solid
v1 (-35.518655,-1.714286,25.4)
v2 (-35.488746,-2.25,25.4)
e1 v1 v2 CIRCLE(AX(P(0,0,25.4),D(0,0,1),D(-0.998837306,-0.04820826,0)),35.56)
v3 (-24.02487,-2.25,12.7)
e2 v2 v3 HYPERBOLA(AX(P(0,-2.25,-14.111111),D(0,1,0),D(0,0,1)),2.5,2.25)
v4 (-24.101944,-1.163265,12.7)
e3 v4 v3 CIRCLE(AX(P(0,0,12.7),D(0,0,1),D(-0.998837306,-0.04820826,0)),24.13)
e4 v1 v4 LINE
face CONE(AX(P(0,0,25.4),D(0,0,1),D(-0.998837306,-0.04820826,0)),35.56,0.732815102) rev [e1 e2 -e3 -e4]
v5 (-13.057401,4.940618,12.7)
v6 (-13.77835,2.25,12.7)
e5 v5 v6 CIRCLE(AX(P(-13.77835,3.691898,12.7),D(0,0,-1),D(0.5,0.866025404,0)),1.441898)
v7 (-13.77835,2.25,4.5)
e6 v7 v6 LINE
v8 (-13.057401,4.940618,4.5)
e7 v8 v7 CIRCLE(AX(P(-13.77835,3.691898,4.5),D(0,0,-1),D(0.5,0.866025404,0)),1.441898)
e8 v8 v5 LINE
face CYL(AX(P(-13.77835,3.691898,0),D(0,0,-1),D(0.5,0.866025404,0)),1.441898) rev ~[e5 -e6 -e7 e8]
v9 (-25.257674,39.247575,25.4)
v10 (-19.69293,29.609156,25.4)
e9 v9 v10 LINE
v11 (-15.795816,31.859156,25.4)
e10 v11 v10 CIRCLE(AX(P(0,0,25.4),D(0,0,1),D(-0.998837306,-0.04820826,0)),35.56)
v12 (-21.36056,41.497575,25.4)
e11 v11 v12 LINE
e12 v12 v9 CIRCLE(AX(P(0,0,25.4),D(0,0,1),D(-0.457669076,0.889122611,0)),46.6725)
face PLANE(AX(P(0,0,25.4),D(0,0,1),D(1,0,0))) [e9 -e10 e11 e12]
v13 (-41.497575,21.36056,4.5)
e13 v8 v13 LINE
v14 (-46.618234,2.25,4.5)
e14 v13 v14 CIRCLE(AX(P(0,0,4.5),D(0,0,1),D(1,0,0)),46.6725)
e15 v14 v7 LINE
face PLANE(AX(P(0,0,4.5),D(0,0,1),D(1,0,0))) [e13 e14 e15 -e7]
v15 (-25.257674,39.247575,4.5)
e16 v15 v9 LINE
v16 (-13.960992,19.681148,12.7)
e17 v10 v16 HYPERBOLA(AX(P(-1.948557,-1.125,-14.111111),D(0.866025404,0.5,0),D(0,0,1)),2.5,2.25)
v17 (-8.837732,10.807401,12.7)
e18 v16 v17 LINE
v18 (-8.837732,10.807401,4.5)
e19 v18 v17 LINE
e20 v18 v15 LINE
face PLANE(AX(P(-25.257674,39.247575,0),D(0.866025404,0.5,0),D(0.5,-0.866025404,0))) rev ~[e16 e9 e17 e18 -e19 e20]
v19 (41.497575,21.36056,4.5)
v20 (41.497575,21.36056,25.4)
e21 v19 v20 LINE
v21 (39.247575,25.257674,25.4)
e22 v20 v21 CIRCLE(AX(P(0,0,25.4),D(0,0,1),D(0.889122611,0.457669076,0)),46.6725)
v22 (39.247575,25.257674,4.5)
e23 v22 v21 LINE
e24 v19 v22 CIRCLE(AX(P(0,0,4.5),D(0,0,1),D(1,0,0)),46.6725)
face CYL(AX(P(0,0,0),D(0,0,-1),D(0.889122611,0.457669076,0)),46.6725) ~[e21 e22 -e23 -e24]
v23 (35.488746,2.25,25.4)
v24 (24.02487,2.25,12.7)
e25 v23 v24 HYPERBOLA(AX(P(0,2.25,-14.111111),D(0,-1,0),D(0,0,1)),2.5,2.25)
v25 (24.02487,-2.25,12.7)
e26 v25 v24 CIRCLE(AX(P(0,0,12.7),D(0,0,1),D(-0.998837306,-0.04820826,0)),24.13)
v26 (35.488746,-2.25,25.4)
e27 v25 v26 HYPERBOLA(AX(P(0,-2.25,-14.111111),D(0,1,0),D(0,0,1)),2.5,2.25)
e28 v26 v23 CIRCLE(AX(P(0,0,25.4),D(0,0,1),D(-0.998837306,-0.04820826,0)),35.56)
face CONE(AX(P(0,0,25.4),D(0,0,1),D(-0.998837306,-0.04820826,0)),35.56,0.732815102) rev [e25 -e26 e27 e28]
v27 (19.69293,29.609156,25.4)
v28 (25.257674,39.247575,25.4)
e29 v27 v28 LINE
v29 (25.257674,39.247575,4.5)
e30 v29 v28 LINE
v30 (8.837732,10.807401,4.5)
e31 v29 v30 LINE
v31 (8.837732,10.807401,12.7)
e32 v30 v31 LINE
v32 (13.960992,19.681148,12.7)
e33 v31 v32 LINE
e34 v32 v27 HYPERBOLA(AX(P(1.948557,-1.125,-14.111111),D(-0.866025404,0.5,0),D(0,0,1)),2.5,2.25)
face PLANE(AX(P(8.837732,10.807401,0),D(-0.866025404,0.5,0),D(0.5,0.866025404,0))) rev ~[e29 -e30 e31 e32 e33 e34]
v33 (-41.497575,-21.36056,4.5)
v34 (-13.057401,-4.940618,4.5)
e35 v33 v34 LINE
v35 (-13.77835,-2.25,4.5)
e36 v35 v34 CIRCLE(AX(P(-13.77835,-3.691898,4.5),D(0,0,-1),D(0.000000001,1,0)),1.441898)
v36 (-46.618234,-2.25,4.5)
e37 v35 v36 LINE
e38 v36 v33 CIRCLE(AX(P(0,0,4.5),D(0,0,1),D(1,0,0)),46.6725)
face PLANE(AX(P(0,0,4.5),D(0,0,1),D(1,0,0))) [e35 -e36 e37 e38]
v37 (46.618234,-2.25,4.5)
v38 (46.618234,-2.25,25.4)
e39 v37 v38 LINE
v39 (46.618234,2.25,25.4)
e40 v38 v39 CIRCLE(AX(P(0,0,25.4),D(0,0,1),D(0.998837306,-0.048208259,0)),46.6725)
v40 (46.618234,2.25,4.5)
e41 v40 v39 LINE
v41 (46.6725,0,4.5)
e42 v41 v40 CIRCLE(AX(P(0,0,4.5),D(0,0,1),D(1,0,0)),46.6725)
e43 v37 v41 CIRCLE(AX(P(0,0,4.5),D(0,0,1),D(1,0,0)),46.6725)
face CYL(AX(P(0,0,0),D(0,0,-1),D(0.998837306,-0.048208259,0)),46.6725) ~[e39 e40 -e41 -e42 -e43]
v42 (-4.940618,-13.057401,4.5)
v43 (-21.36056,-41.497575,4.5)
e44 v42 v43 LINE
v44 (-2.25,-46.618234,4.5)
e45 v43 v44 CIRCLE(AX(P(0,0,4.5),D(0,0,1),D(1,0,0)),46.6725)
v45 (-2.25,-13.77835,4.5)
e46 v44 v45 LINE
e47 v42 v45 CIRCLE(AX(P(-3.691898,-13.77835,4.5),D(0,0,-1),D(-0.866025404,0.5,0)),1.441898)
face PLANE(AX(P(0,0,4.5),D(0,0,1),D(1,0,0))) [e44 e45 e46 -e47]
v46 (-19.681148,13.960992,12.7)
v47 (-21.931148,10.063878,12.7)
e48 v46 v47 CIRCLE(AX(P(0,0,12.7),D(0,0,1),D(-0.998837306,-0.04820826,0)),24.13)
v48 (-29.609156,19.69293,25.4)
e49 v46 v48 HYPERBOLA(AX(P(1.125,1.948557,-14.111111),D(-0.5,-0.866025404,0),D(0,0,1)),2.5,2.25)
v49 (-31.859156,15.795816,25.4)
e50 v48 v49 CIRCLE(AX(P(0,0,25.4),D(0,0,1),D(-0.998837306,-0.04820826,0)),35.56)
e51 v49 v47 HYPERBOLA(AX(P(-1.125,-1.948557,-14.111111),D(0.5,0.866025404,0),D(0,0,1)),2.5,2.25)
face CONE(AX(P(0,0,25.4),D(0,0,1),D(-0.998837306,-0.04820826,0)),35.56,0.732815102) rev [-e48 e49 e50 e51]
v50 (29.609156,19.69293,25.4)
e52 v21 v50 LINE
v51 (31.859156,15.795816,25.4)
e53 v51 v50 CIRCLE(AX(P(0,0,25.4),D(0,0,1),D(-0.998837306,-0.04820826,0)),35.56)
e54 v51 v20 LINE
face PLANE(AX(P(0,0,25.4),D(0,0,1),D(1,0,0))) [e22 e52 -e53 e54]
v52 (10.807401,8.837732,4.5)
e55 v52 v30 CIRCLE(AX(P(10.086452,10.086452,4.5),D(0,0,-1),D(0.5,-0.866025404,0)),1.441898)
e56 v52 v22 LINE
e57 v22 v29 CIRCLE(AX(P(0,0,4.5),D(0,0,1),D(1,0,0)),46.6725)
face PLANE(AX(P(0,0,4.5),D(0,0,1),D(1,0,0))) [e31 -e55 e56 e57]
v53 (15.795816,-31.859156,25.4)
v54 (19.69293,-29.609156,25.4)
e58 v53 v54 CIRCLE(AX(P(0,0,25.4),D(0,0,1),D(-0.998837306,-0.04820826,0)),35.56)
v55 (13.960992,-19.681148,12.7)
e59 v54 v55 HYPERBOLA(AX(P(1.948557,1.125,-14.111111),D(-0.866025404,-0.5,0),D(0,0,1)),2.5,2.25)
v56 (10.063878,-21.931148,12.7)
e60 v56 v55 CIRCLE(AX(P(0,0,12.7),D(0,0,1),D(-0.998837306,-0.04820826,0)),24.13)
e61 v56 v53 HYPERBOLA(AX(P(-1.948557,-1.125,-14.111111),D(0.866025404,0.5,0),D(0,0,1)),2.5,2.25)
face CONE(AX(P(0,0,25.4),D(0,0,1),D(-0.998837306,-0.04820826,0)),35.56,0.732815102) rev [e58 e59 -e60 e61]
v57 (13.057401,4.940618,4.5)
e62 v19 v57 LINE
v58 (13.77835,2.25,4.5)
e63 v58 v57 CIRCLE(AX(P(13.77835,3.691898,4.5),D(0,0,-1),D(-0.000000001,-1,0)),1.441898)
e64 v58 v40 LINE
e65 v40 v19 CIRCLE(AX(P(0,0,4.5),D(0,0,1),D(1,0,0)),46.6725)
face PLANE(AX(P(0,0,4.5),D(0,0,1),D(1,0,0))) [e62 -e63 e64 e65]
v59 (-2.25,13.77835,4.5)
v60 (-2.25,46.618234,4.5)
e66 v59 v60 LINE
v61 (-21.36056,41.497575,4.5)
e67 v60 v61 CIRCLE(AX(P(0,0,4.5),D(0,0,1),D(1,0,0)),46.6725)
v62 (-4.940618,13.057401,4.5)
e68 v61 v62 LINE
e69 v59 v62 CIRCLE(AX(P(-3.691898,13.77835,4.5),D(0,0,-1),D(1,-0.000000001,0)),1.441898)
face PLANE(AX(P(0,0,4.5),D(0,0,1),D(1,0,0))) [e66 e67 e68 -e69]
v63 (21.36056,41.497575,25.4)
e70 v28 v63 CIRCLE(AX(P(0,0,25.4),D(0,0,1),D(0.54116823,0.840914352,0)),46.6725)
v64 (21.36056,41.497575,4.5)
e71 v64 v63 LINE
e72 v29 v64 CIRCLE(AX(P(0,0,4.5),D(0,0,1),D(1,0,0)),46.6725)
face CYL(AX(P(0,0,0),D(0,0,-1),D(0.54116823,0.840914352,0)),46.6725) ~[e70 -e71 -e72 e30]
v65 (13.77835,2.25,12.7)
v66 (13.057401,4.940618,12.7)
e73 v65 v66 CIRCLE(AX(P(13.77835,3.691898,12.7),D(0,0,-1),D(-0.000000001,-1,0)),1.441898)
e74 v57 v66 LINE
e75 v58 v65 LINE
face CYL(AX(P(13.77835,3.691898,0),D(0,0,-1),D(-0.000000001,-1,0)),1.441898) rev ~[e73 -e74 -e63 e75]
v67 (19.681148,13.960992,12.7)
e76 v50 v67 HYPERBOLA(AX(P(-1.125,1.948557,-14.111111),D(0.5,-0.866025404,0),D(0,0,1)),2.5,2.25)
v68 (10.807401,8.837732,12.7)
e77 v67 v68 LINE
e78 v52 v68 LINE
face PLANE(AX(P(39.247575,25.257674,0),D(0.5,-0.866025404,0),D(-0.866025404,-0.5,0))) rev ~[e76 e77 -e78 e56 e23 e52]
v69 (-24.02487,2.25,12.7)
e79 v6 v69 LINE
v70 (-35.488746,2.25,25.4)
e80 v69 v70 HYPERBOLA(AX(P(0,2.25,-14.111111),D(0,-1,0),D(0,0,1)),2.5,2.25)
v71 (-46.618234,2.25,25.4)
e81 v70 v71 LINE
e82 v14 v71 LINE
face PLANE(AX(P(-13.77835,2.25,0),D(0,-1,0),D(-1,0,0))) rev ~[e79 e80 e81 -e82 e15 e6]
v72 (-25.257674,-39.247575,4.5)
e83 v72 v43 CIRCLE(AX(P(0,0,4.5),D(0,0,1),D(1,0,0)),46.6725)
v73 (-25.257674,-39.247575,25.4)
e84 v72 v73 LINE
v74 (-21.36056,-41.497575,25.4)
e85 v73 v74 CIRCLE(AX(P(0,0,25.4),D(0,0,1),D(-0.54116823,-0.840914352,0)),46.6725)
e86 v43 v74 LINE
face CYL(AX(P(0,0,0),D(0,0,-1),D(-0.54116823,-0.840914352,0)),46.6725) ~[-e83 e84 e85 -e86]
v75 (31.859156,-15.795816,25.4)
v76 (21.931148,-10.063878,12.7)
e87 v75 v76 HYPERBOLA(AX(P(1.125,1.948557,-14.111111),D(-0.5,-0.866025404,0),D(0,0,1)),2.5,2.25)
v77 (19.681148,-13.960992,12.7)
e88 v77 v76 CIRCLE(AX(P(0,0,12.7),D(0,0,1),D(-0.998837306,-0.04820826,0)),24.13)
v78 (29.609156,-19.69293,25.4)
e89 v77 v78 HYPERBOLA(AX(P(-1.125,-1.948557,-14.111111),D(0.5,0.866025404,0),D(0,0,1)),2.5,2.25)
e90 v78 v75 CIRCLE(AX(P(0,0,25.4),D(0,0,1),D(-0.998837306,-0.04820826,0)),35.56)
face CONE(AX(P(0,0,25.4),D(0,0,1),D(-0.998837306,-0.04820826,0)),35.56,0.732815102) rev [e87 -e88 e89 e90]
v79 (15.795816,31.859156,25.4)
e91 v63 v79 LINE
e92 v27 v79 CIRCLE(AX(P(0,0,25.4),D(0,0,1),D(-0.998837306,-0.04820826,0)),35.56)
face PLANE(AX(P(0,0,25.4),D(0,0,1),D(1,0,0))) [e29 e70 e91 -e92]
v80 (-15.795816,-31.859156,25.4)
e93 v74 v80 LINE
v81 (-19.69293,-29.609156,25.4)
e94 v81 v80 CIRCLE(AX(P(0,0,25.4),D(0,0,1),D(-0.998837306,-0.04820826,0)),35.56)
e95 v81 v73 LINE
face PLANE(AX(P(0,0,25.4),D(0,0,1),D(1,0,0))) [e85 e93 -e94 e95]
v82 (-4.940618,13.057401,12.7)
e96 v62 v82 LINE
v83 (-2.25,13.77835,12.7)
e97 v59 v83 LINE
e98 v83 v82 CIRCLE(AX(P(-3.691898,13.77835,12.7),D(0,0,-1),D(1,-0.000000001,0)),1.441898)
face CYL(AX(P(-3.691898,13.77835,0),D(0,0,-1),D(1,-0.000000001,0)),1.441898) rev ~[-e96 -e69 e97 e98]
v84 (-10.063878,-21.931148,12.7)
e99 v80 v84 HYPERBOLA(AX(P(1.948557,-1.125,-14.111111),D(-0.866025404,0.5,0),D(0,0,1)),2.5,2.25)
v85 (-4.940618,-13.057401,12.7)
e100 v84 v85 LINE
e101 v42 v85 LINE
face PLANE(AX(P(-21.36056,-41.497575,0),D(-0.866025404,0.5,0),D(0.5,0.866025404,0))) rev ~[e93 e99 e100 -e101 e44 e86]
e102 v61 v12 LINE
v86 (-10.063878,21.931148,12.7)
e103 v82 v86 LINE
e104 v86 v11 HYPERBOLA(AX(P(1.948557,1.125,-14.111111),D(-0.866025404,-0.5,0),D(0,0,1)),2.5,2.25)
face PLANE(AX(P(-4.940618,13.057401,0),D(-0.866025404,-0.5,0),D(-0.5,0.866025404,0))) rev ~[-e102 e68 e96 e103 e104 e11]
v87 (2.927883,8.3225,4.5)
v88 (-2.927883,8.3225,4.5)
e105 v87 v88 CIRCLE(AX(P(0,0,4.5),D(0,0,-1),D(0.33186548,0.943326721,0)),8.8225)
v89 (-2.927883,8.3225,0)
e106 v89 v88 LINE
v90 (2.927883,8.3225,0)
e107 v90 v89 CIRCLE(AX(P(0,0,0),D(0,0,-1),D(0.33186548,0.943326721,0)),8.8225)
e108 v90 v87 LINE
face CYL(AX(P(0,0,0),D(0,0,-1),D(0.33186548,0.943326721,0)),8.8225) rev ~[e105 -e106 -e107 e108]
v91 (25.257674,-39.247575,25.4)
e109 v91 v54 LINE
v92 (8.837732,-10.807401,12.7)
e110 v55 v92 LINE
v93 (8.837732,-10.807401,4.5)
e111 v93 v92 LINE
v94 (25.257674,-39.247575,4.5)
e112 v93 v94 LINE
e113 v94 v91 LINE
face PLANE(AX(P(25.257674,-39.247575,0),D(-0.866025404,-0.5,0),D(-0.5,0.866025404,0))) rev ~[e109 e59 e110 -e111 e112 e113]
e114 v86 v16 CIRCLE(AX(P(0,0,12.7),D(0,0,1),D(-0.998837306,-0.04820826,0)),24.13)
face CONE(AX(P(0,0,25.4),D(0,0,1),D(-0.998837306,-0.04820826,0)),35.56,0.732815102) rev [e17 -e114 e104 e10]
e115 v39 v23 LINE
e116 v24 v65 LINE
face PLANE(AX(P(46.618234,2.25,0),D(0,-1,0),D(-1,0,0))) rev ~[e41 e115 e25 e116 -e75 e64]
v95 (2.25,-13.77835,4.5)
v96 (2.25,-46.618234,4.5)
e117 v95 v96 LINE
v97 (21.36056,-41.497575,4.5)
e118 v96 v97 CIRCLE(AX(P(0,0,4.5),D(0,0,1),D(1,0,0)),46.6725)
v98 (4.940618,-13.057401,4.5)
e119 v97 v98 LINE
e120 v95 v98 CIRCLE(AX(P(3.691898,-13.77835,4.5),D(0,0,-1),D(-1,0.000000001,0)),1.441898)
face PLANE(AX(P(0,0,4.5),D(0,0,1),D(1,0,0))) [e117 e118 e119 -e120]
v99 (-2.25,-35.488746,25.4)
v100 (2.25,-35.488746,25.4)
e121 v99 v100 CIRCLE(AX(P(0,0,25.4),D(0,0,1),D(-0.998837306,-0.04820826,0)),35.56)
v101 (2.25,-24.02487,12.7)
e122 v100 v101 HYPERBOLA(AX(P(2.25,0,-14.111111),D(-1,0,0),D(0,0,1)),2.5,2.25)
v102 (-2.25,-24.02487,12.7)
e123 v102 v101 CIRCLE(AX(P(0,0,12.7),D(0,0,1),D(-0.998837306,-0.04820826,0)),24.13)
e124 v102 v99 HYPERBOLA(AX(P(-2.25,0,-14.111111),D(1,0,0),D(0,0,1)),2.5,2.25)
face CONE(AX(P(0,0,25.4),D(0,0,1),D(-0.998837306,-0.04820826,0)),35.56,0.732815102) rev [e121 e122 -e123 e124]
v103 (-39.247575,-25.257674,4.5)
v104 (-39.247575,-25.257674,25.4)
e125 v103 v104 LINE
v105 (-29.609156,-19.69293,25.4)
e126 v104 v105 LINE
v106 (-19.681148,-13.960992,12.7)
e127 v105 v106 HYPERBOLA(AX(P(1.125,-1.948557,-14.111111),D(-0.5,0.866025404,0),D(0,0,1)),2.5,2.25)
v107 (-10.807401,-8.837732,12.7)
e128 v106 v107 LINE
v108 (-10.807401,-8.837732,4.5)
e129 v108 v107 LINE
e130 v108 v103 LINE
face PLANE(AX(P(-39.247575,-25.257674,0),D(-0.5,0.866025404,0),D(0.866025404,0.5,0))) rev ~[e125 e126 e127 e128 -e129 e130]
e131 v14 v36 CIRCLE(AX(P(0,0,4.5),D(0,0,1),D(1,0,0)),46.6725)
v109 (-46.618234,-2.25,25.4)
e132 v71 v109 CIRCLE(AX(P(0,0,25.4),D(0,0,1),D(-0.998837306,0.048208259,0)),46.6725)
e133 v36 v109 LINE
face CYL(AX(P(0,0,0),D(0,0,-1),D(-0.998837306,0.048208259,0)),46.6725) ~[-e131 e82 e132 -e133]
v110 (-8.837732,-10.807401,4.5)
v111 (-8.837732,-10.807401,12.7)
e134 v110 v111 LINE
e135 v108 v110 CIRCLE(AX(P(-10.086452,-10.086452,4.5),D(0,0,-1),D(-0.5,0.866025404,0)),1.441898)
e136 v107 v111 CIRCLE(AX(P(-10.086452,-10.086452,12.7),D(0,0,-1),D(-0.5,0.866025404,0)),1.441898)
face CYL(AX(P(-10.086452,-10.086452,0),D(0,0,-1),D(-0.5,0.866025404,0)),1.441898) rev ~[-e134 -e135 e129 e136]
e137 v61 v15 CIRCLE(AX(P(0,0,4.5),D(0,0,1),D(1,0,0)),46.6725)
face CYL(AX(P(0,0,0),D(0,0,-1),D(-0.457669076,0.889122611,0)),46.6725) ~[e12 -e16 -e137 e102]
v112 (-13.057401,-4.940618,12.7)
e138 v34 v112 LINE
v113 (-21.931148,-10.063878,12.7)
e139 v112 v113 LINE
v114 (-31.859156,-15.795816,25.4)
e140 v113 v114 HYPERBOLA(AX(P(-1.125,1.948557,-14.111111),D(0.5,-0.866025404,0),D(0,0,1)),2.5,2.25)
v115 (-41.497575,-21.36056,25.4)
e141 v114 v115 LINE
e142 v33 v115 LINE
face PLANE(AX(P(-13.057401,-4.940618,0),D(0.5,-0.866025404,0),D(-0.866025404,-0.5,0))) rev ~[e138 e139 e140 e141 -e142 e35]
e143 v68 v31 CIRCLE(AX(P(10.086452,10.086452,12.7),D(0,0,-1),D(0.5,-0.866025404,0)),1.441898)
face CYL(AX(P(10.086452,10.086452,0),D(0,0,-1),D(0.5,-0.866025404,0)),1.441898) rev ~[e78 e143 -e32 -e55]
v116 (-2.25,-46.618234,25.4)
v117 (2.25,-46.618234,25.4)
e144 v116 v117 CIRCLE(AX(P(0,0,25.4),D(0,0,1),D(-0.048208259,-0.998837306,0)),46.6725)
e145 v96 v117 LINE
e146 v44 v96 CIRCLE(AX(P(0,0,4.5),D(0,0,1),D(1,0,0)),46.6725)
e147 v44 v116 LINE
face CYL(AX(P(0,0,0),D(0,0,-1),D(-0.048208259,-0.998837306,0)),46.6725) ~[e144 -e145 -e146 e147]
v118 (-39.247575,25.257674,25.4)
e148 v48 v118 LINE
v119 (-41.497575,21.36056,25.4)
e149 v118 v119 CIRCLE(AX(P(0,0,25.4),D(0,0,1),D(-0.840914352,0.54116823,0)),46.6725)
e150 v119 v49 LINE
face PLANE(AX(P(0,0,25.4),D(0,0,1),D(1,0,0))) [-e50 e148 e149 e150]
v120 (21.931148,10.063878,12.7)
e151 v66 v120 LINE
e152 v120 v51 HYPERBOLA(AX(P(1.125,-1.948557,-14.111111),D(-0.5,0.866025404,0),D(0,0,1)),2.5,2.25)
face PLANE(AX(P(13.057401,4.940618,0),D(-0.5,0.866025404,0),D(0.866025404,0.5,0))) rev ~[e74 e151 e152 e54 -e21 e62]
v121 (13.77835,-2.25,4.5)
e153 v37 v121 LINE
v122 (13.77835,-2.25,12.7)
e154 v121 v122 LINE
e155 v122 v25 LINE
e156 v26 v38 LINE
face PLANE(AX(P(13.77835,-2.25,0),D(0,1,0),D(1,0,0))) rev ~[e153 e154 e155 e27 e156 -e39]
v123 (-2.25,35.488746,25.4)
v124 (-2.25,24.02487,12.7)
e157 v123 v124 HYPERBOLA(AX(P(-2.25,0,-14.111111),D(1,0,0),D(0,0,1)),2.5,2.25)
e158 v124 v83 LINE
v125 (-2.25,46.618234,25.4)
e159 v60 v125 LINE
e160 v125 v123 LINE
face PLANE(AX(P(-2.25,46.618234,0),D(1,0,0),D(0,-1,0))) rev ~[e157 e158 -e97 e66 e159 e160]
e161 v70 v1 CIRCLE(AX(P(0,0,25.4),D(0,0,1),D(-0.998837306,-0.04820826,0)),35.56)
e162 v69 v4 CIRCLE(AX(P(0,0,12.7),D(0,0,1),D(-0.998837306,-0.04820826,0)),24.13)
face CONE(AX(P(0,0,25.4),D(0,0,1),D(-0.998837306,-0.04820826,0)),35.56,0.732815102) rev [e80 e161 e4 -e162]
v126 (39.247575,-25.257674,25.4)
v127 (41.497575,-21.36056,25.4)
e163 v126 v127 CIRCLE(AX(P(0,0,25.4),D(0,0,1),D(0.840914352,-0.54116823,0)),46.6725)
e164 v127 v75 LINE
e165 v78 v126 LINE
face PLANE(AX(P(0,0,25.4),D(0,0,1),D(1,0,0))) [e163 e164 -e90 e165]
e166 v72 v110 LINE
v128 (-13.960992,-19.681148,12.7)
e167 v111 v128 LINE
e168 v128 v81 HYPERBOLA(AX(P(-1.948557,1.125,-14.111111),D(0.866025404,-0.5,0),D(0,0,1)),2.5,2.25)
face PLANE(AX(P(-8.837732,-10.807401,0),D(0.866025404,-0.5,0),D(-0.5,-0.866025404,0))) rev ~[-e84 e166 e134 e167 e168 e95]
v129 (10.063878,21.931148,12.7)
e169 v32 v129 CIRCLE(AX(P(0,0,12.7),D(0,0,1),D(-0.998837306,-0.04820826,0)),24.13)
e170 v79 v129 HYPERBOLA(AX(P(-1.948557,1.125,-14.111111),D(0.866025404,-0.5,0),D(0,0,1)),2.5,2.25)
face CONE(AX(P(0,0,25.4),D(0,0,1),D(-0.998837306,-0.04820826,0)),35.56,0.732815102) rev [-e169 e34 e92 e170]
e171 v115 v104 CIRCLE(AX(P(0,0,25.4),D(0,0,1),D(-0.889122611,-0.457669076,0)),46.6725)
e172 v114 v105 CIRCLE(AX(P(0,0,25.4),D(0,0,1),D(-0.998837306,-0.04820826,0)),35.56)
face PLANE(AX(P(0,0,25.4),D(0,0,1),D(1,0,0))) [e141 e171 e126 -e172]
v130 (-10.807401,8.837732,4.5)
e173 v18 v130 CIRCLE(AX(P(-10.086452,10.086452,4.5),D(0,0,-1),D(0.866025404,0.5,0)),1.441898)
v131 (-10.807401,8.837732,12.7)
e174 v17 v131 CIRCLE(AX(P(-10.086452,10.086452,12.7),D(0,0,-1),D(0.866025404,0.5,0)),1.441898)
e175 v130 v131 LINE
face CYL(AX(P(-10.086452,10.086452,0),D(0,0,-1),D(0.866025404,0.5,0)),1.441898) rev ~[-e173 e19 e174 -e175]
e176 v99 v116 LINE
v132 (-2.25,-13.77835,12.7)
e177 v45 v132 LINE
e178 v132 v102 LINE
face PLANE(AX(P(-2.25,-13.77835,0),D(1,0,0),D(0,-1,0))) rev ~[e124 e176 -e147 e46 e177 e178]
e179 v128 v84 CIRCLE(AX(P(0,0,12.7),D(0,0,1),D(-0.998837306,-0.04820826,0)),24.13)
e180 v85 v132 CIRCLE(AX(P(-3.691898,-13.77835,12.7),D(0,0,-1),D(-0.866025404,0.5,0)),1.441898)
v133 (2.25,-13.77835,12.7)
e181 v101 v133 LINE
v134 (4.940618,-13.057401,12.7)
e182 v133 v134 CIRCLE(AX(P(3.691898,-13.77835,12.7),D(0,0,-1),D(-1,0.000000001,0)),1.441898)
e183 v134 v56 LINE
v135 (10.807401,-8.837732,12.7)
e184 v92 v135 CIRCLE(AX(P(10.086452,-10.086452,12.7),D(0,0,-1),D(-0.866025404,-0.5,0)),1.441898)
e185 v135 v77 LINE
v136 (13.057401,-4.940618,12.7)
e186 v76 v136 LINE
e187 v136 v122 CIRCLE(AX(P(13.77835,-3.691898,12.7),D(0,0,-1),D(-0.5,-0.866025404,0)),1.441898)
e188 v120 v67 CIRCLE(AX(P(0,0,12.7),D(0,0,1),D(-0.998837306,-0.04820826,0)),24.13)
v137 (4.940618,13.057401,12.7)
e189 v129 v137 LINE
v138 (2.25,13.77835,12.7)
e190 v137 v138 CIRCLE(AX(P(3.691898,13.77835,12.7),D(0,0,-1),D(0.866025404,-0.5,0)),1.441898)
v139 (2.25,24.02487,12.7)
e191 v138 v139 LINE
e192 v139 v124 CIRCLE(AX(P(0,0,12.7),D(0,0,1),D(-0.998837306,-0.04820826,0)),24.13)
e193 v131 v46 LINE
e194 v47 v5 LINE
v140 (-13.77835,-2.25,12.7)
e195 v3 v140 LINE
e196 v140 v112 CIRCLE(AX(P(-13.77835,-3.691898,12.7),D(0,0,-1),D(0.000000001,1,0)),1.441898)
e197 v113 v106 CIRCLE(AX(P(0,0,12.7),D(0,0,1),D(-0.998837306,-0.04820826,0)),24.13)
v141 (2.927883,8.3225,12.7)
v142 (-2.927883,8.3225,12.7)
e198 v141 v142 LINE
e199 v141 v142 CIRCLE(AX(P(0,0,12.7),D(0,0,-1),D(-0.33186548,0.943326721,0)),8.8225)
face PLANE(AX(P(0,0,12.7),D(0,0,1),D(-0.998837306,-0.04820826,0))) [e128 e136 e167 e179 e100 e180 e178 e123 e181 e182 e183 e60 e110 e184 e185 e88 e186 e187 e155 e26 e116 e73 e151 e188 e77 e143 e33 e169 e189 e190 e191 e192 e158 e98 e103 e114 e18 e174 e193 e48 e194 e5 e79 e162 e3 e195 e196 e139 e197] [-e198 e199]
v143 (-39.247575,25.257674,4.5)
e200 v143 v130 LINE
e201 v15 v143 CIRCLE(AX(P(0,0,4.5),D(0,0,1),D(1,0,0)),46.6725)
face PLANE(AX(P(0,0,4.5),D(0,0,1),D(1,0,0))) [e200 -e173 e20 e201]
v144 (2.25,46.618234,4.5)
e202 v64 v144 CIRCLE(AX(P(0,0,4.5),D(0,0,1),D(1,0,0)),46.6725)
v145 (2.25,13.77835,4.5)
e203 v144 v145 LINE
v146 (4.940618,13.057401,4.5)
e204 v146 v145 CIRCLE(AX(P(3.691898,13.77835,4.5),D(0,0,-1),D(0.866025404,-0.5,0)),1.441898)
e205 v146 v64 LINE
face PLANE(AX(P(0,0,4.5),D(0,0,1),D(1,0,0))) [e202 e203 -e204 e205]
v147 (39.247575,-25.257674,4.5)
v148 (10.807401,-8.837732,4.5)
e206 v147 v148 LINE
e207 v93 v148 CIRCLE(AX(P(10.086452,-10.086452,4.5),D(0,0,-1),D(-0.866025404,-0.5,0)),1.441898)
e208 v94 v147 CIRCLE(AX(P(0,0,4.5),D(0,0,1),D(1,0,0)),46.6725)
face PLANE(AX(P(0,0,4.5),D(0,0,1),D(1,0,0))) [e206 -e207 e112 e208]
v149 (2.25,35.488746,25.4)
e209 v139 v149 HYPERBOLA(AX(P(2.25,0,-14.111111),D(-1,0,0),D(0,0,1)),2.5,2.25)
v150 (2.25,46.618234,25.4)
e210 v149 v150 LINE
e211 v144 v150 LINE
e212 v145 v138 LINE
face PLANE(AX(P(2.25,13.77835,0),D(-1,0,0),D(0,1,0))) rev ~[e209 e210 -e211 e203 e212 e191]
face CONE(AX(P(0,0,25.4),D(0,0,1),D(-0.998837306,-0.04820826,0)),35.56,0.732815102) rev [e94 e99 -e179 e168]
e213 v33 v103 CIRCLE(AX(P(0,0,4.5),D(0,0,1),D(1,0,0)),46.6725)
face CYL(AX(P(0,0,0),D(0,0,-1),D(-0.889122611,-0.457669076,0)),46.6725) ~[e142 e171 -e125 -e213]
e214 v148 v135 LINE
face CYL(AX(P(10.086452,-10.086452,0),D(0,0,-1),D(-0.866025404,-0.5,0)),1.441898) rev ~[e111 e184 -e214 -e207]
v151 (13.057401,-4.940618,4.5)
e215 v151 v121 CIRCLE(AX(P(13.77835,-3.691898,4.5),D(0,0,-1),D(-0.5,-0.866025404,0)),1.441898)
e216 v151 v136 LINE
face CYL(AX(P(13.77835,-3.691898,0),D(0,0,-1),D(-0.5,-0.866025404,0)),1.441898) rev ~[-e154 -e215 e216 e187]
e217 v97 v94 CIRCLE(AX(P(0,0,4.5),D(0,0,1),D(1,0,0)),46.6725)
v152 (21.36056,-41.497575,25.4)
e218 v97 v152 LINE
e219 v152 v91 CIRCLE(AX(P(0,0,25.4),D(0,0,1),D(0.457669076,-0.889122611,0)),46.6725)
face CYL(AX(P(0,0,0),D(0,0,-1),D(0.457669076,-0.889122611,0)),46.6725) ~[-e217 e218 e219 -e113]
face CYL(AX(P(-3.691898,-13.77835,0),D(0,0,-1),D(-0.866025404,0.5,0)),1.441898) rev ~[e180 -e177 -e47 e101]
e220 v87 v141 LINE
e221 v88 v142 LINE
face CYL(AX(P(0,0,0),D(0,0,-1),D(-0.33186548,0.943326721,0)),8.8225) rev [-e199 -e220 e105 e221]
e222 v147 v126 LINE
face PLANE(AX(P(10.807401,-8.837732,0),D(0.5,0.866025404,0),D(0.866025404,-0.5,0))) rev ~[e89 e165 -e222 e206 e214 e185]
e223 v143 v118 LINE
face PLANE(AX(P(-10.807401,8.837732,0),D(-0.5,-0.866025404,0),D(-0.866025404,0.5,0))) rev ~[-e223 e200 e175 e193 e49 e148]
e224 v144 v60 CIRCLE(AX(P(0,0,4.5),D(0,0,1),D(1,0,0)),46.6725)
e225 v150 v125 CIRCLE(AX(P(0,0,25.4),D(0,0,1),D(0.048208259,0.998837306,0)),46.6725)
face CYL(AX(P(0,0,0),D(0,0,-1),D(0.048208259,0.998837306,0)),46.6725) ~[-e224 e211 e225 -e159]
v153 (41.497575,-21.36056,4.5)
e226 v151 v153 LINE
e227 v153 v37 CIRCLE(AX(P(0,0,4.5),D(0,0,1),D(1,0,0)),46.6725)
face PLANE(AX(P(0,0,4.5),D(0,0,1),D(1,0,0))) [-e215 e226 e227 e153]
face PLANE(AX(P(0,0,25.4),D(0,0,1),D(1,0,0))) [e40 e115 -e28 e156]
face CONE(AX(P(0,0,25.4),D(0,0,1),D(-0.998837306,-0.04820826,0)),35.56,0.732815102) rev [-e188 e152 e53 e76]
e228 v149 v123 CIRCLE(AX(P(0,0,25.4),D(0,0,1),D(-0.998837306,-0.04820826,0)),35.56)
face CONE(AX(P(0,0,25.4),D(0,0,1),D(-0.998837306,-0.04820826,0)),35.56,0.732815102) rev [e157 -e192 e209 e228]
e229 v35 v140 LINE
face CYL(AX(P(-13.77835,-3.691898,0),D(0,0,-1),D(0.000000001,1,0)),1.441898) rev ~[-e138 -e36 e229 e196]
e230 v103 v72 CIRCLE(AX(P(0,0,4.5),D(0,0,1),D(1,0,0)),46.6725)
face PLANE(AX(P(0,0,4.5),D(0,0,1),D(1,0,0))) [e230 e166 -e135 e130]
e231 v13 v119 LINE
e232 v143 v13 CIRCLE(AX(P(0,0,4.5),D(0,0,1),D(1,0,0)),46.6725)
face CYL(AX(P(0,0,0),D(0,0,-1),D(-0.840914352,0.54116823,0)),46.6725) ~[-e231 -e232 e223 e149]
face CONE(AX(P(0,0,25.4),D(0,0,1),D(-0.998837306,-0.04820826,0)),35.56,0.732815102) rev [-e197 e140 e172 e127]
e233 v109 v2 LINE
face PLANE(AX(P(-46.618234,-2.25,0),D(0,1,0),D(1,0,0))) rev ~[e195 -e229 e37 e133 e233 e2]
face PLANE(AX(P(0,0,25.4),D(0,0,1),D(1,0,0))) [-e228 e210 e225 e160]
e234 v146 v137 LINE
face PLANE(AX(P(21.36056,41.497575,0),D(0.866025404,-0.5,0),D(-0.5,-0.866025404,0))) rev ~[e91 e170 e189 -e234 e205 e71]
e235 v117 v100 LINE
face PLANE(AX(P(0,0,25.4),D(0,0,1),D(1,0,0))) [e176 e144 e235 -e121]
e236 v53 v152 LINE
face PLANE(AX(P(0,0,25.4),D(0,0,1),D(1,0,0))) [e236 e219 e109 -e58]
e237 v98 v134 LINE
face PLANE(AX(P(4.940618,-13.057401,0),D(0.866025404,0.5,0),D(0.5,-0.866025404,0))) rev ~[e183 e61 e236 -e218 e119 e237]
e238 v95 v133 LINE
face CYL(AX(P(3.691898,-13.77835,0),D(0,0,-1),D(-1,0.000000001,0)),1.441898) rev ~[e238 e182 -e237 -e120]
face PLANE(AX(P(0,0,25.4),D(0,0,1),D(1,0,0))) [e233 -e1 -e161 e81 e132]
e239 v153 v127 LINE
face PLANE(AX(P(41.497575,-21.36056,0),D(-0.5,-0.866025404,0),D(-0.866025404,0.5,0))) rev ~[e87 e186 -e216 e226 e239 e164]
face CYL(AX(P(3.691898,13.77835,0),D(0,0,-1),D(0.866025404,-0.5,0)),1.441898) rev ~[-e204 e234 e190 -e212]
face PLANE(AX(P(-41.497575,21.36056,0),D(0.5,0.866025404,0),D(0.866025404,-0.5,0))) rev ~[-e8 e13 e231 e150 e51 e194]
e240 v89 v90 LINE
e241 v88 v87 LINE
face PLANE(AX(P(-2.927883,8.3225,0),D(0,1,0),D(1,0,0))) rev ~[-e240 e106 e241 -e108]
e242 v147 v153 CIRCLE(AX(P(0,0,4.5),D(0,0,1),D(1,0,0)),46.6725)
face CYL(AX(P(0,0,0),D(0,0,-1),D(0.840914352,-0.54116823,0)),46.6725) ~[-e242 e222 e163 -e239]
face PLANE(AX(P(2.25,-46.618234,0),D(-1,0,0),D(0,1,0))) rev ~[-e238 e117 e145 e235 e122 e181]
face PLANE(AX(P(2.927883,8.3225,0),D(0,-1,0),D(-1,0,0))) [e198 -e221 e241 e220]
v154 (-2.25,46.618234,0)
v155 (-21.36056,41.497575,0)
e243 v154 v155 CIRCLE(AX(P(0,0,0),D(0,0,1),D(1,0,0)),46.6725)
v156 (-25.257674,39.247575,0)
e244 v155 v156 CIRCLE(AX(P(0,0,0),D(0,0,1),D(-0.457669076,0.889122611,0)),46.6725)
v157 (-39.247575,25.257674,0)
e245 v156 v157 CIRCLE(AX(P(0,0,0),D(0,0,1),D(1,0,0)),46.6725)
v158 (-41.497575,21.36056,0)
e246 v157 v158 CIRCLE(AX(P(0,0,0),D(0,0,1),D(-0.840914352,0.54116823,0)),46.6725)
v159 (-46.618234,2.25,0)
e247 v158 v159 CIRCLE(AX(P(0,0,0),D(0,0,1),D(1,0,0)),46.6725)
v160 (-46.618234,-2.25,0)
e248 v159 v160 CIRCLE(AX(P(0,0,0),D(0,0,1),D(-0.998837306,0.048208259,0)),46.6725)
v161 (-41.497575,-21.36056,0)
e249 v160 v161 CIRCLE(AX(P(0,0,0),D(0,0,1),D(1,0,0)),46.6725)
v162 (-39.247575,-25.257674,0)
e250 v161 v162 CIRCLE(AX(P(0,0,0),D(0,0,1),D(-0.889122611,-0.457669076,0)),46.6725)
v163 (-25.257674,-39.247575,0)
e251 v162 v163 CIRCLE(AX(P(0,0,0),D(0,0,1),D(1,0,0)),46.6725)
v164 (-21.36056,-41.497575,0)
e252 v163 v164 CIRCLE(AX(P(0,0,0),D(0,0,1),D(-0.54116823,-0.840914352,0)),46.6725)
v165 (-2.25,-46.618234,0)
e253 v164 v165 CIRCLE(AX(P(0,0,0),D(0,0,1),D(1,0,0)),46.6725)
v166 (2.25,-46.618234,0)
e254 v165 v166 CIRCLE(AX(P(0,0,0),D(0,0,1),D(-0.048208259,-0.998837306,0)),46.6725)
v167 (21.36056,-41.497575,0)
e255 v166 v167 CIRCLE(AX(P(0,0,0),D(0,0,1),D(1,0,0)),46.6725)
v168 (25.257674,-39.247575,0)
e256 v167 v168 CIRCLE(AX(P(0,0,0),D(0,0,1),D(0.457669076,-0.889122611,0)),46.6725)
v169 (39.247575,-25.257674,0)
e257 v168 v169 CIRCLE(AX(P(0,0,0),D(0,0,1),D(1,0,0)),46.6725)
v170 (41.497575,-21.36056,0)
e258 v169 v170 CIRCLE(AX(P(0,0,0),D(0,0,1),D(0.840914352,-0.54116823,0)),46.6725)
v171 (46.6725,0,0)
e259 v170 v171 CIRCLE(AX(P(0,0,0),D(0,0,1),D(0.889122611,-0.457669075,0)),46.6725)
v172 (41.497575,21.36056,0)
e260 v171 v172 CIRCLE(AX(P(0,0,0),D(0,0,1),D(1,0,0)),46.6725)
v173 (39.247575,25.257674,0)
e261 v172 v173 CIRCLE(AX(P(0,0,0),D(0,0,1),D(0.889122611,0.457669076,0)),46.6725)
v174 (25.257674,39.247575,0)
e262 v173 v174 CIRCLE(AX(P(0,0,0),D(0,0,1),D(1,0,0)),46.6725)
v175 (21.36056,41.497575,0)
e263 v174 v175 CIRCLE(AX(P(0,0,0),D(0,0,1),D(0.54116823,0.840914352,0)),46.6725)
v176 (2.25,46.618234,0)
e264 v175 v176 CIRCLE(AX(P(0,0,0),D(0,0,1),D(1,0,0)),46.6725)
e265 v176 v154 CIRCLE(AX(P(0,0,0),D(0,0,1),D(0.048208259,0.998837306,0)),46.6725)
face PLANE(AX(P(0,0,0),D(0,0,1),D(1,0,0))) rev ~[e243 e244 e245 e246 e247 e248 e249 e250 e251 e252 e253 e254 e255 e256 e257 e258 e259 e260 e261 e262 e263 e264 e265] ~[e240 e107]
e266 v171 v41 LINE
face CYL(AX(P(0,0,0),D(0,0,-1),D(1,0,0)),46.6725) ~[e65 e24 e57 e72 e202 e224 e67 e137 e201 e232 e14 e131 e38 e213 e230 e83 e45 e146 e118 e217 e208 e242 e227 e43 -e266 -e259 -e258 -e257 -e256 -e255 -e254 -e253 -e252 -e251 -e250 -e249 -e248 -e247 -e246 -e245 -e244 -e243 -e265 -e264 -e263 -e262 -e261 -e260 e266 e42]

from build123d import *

# Parameters (mm, degrees)
SKETCH1_R           = 46.6725
BOSS_EXTRUDE1_DEPTH = 4.5
BOSS_EXTRUDE2_START = -4.5
BOSS_EXTRUDE2_DEPTH = 25.4


with BuildPart() as part:
    # Sketch1 → Boss-Extrude1 (new body)
    with BuildSketch(Plane.XY):
        Circle(SKETCH1_R)
        with BuildLine():
            Line((-2.927883194, 8.3225), (2.927883194, 8.3225))
            ThreePointArc((2.927883194, 8.3225), (0, -8.8225), (-2.927883194, 8.3225))
        make_face(mode=Mode.SUBTRACT)
    extrude(amount=BOSS_EXTRUDE1_DEPTH)

    # Sketch2 → Boss-Extrude2 (add)
    with BuildSketch(Plane.XY.offset(4.5).offset(BOSS_EXTRUDE2_START)):
        with BuildLine():
            Line((-2.25, 46.618234161), (-2.25, 13.778350254))
            ThreePointArc((-2.25, 13.778350254), (-3.318707206, 12.385583908), (-4.940617969, 13.057401343))
            Line((-4.940617969, 13.057401343), (-21.360559922, 41.497575063))
            ThreePointArc((-21.360559922, 41.497575063), (-23.33625, 40.419570658), (-25.257674239, 39.247575063))
            Line((-25.257674239, 39.247575063), (-8.837732286, 10.807401343))
            ThreePointArc((-8.837732286, 10.807401343), (-9.066876702, 9.066876702), (-10.807401343, 8.837732286))
            Line((-10.807401343, 8.837732286), (-39.247575063, 25.257674239))
            ThreePointArc((-39.247575063, 25.257674239), (-40.419570658, 23.33625), (-41.497575063, 21.360559922))
            Line((-41.497575063, 21.360559922), (-13.057401343, 4.940617969))
            ThreePointArc((-13.057401343, 4.940617969), (-12.385583908, 3.318707206), (-13.778350254, 2.25))
            Line((-13.778350254, 2.25), (-46.618234161, 2.25))
            ThreePointArc((-46.618234161, 2.25), (-46.6725, 0), (-46.618234161, -2.25))
            Line((-46.618234161, -2.25), (-13.778350254, -2.25))
            ThreePointArc((-13.778350254, -2.25), (-12.385583908, -3.318707206), (-13.057401343, -4.940617969))
            Line((-13.057401343, -4.940617969), (-41.497575063, -21.360559922))
            ThreePointArc((-41.497575063, -21.360559922), (-40.419570658, -23.33625), (-39.247575063, -25.257674239))
            Line((-39.247575063, -25.257674239), (-10.807401343, -8.837732286))
            ThreePointArc((-10.807401343, -8.837732286), (-9.066876702, -9.066876702), (-8.837732286, -10.807401343))
            Line((-8.837732286, -10.807401343), (-25.257674239, -39.247575063))
            ThreePointArc((-25.257674239, -39.247575063), (-23.33625, -40.419570658), (-21.360559922, -41.497575063))
            Line((-21.360559922, -41.497575063), (-4.940617969, -13.057401343))
            ThreePointArc((-4.940617969, -13.057401343), (-3.318707206, -12.385583908), (-2.25, -13.778350254))
            Line((-2.25, -13.778350254), (-2.25, -46.618234161))
            ThreePointArc((-2.25, -46.618234161), (0, -46.6725), (2.25, -46.618234161))
            Line((2.25, -46.618234161), (2.25, -13.778350254))
            ThreePointArc((2.25, -13.778350254), (3.318707206, -12.385583908), (4.940617969, -13.057401343))
            Line((4.940617969, -13.057401343), (21.360559922, -41.497575063))
            ThreePointArc((21.360559922, -41.497575063), (23.33625, -40.419570658), (25.257674239, -39.247575063))
            Line((25.257674239, -39.247575063), (8.837732286, -10.807401343))
            ThreePointArc((8.837732286, -10.807401343), (9.066876702, -9.066876702), (10.807401343, -8.837732286))
            Line((10.807401343, -8.837732286), (39.247575063, -25.257674239))
            ThreePointArc((39.247575063, -25.257674239), (40.419570658, -23.33625), (41.497575063, -21.360559922))
            Line((41.497575063, -21.360559922), (13.057401343, -4.940617969))
            ThreePointArc((13.057401343, -4.940617969), (12.385583908, -3.318707206), (13.778350254, -2.25))
            Line((13.778350254, -2.25), (46.618234161, -2.25))
            ThreePointArc((46.618234161, -2.25), (46.6725, 0), (46.618234161, 2.25))
            Line((46.618234161, 2.25), (13.778350254, 2.25))
            ThreePointArc((13.778350254, 2.25), (12.385583908, 3.318707206), (13.057401343, 4.940617969))
            Line((13.057401343, 4.940617969), (41.497575063, 21.360559922))
            ThreePointArc((41.497575063, 21.360559922), (40.419570658, 23.33625), (39.247575063, 25.257674239))
            Line((39.247575063, 25.257674239), (10.807401343, 8.837732286))
            ThreePointArc((10.807401343, 8.837732286), (9.066876702, 9.066876702), (8.837732286, 10.807401343))
            Line((8.837732286, 10.807401343), (25.257674239, 39.247575063))
            ThreePointArc((25.257674239, 39.247575063), (23.33625, 40.419570658), (21.360559922, 41.497575063))
            Line((21.360559922, 41.497575063), (4.940617969, 13.057401343))
            ThreePointArc((4.940617969, 13.057401343), (3.318707206, 12.385583908), (2.25, 13.778350254))
            Line((2.25, 13.778350254), (2.25, 46.618234161))
            ThreePointArc((2.25, 46.618234161), (0, 46.6725), (-2.25, 46.618234161))
        make_face()
        with BuildLine():
            Line((2.927883194, 8.3225), (-2.927883194, 8.3225))
            ThreePointArc((-2.927883194, 8.3225), (0, -8.8225), (2.927883194, 8.3225))
        make_face(mode=Mode.SUBTRACT)
    extrude(amount=BOSS_EXTRUDE2_DEPTH)

    # Sketch3 → Cut-Revolve1 (revolve, cut)
    with BuildSketch(Plane(origin=(0, 0, 0), x_dir=(1, 0, 0), z_dir=(0, 1, 0)), mode=Mode.PRIVATE) as cut_revolve1_sk:
        Polygon((-24.13, -12.7), (-6.35, -12.7), (-6.35, -25.4), (-35.56, -25.4), align=None)
    revolve(cut_revolve1_sk.sketch.rotate(Axis((0, 0, 0), (0, 0, 1)), 2.76320082), axis=Axis((0, 0, 0), (0, 0, 1)), mode=Mode.SUBTRACT)


solid = part.part
